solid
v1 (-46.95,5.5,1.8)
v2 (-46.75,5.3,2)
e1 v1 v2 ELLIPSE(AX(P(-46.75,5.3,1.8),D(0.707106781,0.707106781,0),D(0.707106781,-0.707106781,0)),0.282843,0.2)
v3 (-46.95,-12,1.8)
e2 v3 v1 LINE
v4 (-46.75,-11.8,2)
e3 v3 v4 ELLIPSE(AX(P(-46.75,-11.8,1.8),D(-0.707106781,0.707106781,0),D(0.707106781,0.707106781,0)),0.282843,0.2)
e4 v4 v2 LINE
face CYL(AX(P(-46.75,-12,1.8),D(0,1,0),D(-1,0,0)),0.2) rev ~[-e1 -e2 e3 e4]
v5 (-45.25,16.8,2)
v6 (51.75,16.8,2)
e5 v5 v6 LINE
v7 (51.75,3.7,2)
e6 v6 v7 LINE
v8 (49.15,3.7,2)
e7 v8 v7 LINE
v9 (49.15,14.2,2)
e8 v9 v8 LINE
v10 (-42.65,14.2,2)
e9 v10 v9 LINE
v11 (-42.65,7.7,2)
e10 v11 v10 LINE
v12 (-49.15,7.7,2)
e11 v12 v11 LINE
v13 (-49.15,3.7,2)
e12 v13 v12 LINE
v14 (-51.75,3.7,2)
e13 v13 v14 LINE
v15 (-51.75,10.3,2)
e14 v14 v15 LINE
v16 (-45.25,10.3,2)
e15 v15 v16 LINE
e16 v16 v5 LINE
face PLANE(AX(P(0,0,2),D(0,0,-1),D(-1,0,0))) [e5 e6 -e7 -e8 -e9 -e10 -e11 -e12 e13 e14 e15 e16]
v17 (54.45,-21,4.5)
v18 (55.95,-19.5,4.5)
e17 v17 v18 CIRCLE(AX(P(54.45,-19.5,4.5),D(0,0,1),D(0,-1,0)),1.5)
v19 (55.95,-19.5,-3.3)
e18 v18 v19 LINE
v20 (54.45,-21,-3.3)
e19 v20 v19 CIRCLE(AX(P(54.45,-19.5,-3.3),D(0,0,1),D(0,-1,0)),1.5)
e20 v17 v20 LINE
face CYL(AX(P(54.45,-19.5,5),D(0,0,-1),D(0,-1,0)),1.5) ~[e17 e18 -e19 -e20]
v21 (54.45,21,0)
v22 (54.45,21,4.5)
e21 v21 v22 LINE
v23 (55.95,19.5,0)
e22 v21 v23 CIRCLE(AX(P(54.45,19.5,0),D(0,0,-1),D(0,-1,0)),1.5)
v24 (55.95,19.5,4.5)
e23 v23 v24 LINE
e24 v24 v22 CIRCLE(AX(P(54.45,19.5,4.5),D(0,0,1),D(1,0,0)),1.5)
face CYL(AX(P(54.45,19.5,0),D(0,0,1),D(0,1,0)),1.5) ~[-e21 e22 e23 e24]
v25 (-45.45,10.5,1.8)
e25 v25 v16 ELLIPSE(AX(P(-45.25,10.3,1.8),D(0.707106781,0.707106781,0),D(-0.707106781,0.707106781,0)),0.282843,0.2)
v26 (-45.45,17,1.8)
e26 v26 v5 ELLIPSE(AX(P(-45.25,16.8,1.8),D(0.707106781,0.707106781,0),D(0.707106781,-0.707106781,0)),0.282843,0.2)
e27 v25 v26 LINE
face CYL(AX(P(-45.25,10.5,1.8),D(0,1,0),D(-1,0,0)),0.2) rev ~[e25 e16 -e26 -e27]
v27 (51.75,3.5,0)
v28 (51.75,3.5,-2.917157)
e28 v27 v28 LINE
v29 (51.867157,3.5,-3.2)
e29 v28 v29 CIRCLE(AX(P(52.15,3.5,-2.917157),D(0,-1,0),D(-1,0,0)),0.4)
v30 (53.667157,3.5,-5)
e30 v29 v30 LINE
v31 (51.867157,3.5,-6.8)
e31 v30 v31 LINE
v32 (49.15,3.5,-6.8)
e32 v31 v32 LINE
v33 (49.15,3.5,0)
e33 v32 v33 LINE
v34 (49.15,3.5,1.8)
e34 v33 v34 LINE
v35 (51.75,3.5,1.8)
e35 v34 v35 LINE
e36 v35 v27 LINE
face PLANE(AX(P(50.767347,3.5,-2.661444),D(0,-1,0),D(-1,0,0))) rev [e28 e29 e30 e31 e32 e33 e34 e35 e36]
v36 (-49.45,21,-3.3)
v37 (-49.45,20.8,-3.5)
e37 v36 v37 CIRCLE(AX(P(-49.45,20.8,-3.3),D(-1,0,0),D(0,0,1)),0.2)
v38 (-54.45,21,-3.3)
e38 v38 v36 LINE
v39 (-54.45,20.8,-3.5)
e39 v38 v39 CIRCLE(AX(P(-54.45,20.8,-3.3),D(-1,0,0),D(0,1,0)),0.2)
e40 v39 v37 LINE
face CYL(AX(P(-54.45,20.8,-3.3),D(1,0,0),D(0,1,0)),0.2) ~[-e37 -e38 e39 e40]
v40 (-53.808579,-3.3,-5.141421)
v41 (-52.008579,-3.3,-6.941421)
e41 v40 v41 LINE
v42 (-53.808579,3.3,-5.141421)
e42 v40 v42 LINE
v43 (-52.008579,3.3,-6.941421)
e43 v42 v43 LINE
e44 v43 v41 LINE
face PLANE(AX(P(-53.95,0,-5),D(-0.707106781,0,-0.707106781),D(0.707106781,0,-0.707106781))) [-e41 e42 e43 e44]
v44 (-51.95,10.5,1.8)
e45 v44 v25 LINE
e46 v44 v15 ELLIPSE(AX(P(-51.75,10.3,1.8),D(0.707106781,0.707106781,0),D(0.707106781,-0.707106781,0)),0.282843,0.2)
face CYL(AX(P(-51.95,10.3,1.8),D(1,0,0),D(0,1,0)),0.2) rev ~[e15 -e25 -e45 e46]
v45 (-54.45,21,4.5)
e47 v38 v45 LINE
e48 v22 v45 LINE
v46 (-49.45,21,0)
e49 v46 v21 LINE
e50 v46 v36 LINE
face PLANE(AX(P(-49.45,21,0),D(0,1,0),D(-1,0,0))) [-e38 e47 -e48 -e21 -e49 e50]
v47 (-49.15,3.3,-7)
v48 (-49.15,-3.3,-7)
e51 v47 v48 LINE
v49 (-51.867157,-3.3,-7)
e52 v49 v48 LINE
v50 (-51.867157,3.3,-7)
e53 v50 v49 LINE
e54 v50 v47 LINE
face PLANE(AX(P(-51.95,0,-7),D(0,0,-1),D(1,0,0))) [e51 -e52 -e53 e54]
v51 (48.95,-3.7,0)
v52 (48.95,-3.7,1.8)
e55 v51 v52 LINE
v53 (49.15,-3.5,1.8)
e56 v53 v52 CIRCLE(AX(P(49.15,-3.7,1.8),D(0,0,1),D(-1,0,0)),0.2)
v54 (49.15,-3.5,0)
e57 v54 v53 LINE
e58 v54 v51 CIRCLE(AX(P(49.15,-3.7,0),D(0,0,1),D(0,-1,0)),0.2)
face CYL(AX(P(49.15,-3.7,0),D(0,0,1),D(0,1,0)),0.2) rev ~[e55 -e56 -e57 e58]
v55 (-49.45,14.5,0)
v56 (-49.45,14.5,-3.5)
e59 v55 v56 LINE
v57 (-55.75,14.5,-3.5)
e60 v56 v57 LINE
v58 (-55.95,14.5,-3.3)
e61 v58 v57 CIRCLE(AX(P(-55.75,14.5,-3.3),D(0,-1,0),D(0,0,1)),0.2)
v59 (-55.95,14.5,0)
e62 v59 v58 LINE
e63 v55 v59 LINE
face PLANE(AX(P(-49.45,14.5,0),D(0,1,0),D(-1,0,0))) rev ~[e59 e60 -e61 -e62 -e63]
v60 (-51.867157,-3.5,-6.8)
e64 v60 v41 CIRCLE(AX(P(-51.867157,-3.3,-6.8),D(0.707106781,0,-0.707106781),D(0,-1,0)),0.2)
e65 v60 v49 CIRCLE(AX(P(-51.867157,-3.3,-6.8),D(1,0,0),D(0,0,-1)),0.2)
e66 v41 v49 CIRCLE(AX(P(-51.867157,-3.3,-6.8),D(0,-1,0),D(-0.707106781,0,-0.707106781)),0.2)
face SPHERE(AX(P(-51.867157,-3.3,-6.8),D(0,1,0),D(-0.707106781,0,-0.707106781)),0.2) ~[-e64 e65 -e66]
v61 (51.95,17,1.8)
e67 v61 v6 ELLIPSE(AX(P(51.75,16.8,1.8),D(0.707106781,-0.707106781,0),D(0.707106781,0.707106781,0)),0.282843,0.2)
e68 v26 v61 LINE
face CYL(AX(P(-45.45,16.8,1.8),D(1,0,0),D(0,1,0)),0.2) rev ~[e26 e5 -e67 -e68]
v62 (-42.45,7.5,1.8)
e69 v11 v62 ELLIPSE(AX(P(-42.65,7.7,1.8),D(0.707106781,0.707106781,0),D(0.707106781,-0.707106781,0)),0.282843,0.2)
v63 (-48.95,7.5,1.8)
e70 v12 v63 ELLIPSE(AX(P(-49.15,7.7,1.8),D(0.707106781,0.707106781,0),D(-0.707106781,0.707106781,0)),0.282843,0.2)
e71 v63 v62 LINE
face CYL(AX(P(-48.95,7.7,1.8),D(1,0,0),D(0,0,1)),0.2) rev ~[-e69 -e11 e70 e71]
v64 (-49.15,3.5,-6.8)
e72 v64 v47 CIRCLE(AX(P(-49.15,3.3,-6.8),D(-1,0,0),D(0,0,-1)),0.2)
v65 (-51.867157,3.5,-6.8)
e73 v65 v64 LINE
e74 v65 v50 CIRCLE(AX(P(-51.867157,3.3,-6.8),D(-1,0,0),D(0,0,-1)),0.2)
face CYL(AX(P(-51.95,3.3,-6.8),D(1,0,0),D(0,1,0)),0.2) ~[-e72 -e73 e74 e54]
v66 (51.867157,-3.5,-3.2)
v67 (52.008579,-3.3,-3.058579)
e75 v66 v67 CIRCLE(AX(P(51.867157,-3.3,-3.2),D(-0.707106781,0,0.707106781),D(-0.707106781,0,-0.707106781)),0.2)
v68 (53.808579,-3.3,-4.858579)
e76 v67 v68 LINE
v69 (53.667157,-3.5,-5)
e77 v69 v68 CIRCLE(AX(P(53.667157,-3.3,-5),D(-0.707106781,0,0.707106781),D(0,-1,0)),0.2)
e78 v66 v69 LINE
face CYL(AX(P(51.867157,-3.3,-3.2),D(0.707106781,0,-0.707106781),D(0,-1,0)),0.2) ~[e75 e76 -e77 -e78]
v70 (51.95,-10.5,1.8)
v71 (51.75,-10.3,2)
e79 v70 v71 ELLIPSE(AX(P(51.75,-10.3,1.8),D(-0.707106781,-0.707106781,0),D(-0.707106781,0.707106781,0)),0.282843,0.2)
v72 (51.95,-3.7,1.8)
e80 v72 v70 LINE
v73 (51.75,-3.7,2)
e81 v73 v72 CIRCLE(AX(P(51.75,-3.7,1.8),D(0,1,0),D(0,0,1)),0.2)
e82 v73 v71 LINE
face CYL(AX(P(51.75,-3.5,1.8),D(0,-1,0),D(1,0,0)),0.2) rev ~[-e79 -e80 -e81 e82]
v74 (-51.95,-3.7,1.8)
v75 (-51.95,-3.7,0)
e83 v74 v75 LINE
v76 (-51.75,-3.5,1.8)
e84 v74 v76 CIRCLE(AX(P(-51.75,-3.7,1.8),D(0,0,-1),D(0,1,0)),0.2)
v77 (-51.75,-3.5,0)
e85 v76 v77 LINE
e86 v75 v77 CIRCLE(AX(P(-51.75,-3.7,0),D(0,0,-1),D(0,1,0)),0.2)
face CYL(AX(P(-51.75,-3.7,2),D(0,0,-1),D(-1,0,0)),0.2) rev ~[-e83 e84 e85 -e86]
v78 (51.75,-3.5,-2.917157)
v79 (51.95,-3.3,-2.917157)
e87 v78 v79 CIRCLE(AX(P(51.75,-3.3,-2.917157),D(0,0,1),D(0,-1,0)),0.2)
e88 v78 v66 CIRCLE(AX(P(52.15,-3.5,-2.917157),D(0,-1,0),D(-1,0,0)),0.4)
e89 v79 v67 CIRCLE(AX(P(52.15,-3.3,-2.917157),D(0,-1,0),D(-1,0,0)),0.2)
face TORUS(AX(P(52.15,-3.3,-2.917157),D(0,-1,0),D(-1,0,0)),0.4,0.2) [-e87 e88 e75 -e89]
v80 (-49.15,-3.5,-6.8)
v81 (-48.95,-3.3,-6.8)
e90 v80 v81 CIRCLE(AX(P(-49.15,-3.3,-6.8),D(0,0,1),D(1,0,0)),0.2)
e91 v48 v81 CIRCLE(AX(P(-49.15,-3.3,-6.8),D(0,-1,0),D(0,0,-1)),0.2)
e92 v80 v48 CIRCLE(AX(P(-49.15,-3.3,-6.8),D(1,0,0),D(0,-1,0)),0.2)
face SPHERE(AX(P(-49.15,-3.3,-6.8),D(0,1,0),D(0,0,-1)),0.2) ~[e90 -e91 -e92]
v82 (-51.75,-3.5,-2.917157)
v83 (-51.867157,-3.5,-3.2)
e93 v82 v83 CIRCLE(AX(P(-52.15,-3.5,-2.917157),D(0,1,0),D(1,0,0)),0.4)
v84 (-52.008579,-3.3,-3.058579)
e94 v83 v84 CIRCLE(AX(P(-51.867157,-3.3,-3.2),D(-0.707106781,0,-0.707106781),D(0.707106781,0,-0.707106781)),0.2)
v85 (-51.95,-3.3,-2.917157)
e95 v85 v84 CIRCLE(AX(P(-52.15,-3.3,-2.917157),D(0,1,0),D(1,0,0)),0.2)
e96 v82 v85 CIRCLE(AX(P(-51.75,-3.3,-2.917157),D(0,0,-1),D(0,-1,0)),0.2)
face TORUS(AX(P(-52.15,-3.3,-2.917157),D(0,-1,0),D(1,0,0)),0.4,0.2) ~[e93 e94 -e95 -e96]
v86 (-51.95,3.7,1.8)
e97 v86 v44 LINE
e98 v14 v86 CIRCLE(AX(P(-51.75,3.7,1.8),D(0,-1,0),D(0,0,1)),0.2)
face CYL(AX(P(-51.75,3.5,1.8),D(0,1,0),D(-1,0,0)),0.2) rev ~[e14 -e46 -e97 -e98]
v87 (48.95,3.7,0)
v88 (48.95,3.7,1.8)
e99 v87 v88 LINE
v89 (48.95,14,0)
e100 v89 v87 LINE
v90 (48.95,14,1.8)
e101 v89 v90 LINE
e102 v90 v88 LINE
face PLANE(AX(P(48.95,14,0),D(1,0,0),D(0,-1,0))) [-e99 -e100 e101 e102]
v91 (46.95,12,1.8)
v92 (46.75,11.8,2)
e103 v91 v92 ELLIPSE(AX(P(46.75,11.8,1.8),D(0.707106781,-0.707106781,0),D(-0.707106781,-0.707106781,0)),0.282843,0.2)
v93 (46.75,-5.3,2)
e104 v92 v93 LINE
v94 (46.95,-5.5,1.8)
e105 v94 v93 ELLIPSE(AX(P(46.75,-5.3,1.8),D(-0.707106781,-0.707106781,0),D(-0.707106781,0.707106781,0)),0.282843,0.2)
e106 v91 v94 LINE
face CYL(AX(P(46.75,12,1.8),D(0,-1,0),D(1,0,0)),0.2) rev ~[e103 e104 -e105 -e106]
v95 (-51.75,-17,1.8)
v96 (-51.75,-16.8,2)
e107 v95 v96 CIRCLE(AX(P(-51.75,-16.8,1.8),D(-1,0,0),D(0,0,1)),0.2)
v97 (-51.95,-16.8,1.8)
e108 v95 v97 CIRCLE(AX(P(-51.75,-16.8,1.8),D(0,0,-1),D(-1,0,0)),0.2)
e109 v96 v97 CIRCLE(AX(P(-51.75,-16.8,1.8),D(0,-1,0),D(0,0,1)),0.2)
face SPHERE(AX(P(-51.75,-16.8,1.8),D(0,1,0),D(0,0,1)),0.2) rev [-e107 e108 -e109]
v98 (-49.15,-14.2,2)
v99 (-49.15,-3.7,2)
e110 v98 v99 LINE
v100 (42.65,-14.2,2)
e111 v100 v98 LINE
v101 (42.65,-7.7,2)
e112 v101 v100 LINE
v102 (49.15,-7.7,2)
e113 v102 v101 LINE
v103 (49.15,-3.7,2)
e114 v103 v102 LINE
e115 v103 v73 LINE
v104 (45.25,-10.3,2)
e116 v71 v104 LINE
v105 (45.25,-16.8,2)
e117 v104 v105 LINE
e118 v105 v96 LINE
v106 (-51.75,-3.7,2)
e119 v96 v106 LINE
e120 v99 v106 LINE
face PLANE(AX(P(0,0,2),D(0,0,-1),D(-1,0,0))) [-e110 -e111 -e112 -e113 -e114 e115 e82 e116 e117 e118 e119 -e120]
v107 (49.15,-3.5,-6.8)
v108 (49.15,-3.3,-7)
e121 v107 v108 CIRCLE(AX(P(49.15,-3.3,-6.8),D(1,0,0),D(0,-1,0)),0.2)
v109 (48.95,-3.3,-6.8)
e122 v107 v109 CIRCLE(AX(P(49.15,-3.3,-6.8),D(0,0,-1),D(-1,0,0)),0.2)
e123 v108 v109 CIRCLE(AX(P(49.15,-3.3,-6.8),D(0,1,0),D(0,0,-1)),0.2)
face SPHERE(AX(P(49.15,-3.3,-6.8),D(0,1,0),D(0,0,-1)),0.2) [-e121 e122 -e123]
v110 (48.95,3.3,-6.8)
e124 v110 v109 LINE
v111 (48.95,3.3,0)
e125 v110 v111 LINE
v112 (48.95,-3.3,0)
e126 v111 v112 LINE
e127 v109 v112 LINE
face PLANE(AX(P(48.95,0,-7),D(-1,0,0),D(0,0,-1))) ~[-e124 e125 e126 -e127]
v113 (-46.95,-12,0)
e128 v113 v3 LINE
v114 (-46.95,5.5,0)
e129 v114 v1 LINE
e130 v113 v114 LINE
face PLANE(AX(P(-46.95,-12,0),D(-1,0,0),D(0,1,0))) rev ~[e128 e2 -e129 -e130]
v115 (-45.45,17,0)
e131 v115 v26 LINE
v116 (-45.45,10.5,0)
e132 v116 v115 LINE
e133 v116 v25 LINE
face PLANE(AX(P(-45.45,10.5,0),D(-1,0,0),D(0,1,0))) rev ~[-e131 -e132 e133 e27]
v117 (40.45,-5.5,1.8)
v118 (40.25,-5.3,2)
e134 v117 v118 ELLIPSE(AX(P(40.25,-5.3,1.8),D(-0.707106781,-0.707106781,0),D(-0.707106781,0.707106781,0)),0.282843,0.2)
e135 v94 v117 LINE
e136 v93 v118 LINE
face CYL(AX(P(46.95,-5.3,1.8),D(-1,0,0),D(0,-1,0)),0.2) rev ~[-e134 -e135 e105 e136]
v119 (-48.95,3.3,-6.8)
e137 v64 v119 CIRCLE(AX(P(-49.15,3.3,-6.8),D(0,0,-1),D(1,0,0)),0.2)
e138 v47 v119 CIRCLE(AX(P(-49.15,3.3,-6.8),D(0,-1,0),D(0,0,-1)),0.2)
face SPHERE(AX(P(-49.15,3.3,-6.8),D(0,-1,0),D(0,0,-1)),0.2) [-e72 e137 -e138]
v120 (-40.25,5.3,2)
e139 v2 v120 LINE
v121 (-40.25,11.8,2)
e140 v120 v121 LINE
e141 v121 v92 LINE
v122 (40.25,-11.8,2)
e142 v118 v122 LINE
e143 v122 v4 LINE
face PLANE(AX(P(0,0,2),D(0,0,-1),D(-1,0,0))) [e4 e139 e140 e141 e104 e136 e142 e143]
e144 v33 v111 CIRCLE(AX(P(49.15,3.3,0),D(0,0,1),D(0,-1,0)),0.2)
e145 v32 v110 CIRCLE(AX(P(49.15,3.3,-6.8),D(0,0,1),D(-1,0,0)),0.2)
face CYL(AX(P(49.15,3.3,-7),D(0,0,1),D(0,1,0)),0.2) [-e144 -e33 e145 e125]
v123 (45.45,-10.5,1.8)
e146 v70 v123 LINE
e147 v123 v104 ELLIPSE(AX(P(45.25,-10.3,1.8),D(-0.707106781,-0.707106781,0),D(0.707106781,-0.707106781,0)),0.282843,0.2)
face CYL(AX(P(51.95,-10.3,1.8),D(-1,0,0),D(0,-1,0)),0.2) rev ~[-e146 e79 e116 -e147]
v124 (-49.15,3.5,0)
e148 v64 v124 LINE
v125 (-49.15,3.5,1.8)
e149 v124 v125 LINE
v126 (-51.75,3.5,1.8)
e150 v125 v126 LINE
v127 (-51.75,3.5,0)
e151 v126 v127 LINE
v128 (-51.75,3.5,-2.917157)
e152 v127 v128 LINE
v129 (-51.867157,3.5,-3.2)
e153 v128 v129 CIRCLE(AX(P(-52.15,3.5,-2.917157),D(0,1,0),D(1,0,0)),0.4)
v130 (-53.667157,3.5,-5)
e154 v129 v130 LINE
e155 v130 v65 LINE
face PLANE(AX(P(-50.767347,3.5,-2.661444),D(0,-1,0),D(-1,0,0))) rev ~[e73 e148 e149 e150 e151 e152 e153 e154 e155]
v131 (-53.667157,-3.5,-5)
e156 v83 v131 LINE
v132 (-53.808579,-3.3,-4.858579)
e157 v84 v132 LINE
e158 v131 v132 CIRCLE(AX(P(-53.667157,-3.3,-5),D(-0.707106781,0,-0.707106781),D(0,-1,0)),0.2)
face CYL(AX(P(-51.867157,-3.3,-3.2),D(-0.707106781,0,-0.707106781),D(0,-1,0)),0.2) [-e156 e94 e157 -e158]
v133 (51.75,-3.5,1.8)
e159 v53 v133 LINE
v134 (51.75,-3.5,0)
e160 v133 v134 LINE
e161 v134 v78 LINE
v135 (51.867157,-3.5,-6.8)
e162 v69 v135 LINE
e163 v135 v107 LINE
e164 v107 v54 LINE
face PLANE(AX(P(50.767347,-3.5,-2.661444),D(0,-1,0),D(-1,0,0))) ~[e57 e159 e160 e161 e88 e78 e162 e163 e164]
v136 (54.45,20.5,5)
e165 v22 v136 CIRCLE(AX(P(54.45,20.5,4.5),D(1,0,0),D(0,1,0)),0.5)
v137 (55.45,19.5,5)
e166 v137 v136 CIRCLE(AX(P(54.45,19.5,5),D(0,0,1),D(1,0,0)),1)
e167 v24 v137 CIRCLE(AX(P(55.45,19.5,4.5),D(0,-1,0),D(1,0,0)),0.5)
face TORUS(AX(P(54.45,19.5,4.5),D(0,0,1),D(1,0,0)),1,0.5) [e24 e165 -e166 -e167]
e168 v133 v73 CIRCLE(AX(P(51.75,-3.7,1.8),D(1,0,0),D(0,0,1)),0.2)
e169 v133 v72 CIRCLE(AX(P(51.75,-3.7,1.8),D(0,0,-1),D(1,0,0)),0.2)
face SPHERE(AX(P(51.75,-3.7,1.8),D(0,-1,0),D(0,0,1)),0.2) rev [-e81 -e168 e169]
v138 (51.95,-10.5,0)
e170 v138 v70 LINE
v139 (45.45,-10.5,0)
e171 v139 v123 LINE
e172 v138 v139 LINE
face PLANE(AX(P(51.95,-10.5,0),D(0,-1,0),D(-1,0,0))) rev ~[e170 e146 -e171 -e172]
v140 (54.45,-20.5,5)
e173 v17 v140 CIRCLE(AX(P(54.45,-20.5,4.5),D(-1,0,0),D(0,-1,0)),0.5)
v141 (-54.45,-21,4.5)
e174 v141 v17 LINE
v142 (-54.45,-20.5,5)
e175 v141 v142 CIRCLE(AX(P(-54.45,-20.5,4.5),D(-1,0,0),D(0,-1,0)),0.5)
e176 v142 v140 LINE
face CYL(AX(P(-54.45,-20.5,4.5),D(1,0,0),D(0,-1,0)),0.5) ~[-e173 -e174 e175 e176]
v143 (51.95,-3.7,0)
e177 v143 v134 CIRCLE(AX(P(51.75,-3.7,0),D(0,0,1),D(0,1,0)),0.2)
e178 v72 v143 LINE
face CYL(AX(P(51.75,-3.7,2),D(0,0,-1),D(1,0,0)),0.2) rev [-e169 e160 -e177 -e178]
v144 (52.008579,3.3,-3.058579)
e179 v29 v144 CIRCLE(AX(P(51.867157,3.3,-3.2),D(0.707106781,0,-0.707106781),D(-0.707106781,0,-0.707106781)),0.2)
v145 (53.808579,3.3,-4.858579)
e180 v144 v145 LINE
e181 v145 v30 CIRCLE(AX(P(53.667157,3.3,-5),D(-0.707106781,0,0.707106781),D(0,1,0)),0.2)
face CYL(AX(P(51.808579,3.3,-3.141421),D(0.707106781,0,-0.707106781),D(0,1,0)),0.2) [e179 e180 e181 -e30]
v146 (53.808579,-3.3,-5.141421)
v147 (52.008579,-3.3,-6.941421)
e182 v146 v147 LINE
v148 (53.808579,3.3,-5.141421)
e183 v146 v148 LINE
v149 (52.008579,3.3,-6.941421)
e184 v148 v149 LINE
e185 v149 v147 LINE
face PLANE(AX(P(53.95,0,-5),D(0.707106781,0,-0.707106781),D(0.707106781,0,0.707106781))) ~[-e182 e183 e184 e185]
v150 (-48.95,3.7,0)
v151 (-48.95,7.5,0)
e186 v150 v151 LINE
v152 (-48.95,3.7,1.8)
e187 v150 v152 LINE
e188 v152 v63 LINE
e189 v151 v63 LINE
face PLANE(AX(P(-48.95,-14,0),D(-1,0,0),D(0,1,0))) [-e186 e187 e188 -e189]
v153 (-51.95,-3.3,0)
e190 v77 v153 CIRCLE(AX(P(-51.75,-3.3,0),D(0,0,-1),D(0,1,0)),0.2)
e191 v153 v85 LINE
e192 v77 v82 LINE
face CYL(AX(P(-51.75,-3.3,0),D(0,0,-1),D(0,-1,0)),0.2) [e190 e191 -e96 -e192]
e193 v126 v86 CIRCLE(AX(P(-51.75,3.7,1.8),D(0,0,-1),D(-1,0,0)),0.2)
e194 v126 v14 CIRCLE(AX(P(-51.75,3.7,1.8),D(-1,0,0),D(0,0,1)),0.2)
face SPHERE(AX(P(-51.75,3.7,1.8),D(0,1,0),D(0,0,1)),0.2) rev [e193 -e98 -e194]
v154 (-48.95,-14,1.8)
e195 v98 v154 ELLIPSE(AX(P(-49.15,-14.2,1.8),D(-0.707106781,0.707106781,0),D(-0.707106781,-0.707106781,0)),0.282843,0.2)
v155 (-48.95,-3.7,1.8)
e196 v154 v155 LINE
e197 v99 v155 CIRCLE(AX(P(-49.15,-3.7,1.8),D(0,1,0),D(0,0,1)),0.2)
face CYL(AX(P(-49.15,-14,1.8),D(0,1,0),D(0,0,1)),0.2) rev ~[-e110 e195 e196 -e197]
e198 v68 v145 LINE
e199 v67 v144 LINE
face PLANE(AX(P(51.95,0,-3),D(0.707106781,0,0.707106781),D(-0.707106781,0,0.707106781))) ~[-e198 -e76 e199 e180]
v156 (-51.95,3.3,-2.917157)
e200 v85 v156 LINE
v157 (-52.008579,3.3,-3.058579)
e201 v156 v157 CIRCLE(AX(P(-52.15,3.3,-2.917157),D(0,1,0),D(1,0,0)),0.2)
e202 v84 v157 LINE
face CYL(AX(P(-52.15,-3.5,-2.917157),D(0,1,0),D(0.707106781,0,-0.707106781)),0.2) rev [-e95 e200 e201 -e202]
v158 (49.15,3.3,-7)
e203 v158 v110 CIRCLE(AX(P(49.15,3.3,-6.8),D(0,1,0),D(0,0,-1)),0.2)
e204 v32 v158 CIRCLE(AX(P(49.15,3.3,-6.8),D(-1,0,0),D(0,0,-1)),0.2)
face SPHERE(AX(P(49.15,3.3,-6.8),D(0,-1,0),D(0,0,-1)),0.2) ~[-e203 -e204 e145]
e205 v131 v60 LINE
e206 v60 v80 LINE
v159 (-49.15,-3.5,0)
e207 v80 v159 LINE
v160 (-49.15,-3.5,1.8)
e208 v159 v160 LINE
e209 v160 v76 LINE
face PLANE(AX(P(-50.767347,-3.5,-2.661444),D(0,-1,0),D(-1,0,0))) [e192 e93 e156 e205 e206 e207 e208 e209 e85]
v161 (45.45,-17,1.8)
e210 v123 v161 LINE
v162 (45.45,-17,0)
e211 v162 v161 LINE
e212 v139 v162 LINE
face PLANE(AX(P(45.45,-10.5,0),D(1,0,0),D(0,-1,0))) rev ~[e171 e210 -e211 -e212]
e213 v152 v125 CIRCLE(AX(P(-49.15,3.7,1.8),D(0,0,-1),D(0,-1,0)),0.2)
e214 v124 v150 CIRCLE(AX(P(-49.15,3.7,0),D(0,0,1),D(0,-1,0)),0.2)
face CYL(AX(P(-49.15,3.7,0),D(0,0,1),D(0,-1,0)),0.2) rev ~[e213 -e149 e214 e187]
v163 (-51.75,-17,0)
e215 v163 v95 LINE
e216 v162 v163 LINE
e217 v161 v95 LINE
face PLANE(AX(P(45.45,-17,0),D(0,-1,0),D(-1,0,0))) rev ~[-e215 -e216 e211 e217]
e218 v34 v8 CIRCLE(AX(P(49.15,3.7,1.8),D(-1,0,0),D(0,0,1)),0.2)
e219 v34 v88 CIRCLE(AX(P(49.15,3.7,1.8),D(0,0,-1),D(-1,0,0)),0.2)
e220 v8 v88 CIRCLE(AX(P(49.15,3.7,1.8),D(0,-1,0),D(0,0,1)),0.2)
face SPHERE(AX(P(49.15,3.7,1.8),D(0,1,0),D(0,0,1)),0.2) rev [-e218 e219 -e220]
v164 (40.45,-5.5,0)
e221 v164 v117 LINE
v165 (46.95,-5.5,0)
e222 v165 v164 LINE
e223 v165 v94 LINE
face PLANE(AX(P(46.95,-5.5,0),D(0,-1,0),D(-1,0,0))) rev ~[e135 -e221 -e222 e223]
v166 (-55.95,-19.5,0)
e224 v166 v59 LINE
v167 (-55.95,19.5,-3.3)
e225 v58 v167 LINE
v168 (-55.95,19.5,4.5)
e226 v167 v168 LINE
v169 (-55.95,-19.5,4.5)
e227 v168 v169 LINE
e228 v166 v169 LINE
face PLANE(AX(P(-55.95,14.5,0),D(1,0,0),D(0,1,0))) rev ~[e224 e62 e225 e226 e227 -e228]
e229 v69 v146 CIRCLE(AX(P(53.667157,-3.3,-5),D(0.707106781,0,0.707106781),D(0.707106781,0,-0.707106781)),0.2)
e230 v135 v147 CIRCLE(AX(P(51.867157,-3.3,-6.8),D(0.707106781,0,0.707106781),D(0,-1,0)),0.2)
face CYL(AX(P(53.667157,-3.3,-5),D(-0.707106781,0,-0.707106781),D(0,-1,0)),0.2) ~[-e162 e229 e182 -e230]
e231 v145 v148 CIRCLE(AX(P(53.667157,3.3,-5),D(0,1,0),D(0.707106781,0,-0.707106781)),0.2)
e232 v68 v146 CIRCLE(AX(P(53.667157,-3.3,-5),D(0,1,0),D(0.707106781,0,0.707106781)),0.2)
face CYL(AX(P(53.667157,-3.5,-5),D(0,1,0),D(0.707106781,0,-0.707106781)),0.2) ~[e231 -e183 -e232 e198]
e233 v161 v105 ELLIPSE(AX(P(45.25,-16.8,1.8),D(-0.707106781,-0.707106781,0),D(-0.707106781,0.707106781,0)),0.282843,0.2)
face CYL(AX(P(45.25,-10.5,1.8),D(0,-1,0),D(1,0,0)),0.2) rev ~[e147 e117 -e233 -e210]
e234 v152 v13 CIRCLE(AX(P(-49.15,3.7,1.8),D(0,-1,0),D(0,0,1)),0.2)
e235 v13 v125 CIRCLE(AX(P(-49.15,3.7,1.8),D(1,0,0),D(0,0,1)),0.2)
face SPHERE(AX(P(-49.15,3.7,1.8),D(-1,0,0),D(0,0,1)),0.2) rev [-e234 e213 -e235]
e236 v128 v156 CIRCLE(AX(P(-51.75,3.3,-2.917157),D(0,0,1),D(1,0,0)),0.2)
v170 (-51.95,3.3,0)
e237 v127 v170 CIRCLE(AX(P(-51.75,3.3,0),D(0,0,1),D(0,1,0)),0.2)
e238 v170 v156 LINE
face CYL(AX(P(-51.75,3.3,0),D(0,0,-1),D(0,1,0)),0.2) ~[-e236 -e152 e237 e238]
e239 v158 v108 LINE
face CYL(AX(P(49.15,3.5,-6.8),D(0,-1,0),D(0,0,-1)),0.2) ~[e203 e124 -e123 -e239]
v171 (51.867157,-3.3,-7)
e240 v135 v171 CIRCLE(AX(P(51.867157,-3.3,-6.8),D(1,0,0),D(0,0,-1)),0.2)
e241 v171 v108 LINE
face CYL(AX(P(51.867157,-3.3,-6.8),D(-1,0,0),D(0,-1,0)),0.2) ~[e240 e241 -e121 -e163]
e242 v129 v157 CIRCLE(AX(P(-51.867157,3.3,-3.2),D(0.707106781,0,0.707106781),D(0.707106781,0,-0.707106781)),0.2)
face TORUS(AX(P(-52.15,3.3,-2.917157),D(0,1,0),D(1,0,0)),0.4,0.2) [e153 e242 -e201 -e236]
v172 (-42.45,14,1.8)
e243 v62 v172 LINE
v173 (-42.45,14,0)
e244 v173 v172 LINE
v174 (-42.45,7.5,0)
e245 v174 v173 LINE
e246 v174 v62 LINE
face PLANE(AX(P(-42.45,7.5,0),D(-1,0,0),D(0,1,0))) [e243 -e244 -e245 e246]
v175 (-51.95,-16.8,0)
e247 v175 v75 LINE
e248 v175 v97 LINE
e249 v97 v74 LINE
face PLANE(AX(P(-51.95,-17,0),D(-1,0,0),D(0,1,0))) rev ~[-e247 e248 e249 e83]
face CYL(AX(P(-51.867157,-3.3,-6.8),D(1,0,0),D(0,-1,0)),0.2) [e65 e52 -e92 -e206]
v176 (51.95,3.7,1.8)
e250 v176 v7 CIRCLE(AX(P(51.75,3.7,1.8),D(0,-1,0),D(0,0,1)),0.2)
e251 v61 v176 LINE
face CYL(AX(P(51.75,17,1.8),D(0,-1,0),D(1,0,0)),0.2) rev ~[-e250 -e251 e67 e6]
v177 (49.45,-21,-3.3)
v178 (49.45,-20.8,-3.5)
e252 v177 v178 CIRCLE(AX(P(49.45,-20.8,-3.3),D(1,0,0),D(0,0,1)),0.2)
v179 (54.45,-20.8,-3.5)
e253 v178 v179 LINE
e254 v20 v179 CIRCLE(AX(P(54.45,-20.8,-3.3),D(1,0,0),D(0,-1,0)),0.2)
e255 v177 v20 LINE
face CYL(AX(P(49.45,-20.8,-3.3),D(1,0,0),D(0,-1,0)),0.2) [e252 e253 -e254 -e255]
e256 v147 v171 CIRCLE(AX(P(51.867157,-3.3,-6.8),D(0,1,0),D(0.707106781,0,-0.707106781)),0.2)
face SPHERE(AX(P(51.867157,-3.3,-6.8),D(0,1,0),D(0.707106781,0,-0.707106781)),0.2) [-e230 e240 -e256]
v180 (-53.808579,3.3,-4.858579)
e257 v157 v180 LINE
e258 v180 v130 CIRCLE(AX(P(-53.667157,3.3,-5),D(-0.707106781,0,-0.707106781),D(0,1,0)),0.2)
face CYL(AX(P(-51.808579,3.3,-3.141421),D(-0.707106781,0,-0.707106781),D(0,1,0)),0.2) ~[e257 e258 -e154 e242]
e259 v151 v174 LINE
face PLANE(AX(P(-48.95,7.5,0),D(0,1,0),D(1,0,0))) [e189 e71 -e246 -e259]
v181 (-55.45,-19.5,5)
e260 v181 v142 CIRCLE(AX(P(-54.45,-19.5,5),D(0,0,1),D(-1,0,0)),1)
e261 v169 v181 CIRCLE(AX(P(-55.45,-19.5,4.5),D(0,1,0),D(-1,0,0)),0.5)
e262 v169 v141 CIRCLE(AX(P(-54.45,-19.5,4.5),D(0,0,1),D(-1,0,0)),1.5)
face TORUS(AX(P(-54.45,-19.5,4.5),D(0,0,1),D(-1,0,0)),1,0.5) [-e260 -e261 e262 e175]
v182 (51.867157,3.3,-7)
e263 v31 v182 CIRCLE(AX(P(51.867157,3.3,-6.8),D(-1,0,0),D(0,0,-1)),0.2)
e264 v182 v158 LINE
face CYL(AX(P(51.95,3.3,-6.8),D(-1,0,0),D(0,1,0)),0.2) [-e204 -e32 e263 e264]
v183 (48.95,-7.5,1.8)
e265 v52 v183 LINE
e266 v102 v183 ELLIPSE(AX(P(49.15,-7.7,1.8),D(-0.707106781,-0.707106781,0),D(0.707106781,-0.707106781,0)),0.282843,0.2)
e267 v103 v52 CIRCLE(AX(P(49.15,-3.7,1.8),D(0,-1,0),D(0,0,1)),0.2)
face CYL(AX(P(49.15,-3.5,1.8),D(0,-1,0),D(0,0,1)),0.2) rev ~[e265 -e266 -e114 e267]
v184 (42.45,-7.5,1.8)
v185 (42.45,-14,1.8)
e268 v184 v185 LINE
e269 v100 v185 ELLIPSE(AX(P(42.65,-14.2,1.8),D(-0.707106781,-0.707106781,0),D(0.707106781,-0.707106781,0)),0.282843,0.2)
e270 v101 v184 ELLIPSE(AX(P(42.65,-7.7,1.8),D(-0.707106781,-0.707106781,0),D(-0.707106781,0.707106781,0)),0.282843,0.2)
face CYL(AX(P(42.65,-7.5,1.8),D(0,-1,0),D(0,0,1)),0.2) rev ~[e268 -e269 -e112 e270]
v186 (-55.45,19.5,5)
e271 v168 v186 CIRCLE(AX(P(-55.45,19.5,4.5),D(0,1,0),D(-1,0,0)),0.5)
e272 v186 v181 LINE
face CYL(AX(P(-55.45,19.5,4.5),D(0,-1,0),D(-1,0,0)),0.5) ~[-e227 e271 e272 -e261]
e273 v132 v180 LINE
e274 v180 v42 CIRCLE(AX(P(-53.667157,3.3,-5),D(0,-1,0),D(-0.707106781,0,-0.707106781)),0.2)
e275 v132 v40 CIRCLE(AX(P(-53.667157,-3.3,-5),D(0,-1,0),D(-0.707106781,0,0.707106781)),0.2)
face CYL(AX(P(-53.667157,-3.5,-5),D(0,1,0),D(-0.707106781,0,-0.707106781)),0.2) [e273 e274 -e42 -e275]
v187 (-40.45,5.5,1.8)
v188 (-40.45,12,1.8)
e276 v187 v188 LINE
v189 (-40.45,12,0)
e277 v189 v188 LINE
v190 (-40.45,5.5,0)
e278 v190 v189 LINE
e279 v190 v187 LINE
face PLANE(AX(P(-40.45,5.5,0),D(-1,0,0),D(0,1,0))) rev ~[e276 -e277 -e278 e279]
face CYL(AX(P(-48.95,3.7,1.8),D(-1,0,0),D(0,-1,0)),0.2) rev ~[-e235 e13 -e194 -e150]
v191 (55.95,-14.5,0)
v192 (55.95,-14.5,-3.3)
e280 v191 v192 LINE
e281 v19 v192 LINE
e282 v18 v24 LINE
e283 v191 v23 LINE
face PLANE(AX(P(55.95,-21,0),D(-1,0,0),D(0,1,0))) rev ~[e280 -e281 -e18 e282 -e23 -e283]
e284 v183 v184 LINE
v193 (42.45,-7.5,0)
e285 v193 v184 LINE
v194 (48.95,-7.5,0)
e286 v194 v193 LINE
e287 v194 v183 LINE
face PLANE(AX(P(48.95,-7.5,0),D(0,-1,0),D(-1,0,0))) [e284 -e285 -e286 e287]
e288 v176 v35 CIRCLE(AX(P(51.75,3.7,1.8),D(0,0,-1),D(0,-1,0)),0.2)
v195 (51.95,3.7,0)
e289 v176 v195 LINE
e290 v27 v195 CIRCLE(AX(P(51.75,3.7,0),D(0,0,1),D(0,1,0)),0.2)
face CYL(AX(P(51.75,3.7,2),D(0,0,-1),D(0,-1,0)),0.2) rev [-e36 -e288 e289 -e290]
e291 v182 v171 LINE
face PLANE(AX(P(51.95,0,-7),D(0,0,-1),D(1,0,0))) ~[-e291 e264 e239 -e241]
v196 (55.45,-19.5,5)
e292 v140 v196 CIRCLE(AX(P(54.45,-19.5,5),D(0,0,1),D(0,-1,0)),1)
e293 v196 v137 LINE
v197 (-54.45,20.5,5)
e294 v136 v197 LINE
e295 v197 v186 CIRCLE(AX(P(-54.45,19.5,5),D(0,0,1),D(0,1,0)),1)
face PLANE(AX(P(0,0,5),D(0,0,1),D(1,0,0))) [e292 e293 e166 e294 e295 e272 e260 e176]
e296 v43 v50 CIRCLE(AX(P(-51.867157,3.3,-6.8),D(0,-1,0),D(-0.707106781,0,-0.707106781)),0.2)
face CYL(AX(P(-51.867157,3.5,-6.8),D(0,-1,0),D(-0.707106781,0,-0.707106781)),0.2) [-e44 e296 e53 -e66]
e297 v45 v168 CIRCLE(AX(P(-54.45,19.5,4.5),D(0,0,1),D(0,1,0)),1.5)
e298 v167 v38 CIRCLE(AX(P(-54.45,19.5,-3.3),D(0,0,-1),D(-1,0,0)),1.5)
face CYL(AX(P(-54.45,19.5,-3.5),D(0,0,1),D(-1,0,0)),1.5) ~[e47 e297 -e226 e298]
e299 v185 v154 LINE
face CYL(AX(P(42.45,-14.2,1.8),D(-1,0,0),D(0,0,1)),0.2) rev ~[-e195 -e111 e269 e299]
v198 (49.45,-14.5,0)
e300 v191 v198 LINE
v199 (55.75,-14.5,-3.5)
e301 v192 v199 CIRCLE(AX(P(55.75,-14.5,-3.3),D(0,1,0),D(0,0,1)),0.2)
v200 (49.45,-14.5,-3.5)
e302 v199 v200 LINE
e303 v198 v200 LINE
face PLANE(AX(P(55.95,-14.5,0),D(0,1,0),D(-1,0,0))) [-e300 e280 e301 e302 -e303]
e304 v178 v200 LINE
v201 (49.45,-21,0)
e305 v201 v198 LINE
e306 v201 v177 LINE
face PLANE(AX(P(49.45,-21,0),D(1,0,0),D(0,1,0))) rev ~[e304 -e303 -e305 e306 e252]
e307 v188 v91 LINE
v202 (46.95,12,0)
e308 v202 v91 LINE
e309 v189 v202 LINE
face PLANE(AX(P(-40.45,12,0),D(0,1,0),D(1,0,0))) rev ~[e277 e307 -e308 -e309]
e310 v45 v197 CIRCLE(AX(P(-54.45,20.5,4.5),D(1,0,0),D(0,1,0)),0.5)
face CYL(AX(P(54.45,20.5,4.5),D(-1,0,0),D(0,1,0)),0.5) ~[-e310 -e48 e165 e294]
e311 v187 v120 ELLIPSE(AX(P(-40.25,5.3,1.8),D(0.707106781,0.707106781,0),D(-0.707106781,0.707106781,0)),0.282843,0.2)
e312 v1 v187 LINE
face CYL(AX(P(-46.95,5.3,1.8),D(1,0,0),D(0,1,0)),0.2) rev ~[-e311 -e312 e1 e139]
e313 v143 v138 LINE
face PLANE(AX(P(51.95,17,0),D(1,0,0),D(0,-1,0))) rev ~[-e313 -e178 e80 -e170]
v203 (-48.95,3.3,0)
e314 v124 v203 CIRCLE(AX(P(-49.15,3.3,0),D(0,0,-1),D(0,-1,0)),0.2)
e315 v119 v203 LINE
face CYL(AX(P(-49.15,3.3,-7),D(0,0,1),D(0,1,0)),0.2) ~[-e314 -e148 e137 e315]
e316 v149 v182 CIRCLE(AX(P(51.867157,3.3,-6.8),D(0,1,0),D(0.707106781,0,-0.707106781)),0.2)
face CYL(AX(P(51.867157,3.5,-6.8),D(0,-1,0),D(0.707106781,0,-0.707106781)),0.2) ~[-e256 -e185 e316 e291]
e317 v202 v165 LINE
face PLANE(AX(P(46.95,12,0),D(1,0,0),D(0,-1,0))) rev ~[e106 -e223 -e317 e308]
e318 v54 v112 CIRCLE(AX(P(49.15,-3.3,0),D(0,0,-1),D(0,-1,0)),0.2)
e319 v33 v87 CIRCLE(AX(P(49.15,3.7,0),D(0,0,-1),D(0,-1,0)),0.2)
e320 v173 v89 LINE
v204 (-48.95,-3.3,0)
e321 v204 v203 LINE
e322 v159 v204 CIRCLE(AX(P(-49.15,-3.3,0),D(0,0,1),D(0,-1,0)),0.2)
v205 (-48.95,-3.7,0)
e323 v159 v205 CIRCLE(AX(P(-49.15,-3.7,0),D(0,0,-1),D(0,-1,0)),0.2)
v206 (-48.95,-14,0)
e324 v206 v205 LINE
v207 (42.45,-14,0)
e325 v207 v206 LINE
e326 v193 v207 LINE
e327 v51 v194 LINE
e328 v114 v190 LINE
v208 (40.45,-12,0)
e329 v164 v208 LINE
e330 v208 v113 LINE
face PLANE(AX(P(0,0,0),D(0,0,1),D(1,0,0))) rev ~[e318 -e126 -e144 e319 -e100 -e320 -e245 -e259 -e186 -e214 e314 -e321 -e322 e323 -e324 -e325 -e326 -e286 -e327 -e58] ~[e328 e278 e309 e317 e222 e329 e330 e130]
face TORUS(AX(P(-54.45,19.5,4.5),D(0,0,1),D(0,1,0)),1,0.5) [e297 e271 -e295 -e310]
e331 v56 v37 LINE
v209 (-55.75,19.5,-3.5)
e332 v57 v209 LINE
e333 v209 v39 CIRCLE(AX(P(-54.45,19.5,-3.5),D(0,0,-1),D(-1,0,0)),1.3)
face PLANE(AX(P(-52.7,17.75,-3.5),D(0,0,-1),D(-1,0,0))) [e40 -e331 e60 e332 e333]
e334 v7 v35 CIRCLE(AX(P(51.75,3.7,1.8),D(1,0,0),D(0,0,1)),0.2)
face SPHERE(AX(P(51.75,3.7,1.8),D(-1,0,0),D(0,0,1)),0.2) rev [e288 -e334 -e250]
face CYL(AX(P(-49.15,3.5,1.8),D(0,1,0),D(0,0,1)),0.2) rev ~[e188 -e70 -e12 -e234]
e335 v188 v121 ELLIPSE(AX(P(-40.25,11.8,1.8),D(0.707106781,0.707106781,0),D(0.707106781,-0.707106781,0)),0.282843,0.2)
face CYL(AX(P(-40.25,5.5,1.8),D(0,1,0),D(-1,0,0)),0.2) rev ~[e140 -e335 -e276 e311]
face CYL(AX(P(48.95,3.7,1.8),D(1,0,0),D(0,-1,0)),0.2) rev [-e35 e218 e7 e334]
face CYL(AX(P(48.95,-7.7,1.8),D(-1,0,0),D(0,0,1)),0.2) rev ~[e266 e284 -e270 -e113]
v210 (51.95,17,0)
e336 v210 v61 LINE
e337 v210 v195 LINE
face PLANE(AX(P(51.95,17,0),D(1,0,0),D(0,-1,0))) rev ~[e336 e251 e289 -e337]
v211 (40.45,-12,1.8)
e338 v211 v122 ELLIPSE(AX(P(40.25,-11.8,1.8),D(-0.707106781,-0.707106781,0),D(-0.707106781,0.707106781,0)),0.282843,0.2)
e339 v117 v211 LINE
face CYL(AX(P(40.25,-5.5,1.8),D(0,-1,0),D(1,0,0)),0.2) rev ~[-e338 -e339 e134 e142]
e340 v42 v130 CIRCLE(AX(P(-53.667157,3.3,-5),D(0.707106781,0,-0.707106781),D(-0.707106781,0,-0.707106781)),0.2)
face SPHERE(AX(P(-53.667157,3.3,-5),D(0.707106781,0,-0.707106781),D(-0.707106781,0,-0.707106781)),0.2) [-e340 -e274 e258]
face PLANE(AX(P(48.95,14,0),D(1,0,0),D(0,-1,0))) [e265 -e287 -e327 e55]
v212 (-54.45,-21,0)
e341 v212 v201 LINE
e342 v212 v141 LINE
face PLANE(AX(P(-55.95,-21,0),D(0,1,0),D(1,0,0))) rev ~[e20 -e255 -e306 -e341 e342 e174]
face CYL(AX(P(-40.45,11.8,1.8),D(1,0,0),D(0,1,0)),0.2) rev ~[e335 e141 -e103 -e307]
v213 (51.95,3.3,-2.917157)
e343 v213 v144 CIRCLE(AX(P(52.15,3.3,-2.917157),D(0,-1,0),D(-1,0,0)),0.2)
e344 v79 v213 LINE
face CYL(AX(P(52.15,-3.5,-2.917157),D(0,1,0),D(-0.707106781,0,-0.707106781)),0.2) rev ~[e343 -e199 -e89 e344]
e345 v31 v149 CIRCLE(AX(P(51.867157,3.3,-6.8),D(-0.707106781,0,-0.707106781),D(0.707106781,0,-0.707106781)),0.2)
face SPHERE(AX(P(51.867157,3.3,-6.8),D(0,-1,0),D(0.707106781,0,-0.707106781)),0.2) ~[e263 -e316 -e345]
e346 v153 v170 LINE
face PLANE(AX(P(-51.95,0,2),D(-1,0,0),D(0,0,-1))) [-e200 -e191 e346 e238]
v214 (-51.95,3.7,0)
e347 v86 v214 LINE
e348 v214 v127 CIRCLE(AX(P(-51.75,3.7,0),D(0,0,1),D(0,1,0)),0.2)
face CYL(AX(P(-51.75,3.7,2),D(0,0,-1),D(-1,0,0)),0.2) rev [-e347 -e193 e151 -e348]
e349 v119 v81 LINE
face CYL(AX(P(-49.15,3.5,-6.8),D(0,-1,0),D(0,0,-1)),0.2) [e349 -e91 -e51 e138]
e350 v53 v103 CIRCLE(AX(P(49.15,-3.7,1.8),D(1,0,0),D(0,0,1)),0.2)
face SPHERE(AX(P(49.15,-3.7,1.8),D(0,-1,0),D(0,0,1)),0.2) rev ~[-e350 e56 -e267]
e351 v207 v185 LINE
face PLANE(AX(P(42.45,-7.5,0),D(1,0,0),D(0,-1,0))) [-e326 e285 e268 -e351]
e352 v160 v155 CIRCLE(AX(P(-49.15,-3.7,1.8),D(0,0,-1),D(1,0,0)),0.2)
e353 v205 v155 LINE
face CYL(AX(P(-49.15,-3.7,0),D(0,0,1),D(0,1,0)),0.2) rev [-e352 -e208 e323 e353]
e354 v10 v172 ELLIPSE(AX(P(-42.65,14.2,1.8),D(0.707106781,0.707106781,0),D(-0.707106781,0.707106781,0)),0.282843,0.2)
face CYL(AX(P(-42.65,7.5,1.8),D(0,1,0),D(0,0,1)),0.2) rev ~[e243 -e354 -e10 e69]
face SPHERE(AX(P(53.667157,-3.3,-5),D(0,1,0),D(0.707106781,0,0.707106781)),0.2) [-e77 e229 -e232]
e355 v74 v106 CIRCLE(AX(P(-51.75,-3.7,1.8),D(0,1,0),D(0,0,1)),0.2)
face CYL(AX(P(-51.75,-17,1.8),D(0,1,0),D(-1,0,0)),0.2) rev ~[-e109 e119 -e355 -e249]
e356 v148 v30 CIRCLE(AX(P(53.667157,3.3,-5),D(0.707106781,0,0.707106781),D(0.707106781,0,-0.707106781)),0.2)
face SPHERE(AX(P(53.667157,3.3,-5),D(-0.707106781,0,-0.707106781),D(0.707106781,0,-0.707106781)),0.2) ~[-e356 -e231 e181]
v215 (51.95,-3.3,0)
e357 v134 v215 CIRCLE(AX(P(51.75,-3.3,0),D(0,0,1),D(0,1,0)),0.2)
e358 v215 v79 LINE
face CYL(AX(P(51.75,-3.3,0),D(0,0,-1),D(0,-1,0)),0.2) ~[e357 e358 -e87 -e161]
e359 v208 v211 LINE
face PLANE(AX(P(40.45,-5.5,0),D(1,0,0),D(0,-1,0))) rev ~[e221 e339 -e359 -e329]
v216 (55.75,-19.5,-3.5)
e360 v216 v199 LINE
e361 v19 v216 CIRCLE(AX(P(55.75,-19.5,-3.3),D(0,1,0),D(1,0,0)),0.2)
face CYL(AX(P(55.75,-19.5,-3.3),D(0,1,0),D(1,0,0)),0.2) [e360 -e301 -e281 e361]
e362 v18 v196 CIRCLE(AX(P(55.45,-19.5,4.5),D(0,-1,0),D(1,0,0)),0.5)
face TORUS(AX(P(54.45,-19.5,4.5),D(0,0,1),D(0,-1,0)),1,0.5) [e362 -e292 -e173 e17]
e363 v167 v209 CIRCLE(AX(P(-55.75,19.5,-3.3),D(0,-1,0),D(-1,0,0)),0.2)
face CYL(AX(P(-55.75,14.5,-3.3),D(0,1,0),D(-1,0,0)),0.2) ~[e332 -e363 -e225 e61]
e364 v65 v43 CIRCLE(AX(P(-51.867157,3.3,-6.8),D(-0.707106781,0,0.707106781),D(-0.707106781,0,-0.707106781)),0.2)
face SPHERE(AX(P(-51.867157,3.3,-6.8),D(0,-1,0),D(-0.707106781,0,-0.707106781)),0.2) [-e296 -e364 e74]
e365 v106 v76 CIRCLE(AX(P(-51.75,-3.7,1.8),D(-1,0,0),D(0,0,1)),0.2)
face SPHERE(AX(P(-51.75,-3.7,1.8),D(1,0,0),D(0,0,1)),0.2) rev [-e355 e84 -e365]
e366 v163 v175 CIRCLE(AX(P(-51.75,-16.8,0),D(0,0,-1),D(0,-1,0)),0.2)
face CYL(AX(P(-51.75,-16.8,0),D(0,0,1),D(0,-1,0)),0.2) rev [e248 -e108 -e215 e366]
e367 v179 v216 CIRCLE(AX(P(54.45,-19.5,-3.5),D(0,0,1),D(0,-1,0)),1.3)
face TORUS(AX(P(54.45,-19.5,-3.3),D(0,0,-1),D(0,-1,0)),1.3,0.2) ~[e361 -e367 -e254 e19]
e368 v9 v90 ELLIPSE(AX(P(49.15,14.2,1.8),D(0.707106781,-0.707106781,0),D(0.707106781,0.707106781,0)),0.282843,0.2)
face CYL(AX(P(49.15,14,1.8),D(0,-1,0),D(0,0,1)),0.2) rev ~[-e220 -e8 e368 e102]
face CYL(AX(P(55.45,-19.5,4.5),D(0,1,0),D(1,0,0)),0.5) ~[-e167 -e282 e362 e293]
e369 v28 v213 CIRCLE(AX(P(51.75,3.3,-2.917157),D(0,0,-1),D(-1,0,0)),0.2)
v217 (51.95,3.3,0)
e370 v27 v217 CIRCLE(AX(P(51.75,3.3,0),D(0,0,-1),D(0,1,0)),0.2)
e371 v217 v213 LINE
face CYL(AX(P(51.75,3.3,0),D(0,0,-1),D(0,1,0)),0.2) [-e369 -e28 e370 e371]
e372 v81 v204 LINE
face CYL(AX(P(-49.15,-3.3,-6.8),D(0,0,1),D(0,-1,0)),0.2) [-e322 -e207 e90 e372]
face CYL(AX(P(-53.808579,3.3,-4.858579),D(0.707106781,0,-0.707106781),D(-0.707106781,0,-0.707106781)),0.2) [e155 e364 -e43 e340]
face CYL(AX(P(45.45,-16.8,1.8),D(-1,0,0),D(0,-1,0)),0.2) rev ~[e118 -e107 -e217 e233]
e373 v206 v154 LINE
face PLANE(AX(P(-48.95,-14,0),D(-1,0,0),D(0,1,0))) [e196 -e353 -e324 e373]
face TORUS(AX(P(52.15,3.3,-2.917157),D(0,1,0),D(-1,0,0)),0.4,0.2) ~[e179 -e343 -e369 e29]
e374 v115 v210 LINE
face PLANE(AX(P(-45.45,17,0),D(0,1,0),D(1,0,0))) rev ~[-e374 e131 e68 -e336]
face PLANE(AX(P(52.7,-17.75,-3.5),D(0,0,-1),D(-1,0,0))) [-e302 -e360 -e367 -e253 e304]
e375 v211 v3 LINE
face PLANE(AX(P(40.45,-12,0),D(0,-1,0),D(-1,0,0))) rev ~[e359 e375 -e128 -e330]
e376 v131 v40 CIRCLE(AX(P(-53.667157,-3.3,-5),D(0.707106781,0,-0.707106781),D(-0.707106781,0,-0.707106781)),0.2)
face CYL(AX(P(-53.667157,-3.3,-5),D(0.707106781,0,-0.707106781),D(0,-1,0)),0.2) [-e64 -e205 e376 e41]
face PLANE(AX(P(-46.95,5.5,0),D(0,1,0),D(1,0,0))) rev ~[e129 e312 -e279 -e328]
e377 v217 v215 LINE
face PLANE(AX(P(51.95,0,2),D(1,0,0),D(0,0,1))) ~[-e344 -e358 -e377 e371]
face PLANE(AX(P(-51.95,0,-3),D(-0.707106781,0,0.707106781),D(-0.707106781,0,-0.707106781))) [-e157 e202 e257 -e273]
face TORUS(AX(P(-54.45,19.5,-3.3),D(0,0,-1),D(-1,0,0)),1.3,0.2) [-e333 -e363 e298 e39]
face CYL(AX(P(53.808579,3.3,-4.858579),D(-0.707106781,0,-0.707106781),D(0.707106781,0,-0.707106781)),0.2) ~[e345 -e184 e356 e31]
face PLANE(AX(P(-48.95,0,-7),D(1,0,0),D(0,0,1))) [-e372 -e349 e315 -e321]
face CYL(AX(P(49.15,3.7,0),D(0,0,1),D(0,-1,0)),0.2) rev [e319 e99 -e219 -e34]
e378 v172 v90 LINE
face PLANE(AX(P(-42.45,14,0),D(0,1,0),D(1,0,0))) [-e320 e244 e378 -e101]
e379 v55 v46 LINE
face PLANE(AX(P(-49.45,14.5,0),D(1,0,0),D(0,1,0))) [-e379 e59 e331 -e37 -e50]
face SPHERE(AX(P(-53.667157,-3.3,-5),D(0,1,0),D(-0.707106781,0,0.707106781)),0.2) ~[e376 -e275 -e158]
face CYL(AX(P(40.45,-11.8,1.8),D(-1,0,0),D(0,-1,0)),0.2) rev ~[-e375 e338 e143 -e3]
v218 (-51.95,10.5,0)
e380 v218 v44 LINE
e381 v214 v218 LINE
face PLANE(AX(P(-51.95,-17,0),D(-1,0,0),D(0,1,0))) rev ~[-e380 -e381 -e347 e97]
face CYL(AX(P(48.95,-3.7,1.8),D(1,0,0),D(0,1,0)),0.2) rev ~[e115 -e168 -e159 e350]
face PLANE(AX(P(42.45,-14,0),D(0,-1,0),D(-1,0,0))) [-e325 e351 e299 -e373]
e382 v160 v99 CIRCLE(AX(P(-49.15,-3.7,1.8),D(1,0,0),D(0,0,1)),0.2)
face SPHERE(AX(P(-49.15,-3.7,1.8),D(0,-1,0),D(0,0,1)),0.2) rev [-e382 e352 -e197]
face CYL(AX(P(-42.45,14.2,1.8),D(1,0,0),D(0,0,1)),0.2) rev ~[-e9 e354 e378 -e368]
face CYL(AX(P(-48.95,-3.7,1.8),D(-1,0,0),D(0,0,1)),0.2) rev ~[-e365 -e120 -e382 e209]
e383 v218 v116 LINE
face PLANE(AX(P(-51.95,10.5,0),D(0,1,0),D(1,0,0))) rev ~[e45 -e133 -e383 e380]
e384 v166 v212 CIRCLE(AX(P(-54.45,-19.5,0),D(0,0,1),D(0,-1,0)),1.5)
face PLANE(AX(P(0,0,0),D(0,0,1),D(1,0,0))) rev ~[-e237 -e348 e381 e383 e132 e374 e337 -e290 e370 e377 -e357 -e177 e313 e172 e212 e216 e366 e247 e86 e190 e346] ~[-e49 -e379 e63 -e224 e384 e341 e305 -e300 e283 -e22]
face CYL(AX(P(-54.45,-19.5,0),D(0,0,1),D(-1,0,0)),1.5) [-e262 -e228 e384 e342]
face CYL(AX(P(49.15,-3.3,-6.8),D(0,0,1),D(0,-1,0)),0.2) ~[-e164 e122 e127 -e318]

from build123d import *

# Parameters (mm, degrees)
SKETCH1_W            = 111.9
SKETCH1_H            = 42
BOSS_EXTRUDE1_DEPTH  = 5
SKETCH2_W            = 6.5
SKETCH2_H            = 6.5
BOSS_EXTRUDE2_DEPTH  = 3.5
CUT_EXTRUDE1_DEPTH   = 2
CUT_EXTRUDE2_DEPTH   = 2
BOSS_EXTRUDE3_DEPTH  = 3.5
FILLET1_R            = 0.2
FILLET1_OF_MIRROR1_R = 0.2
FILLET2_R            = 1.5
FILLET3_R            = 0.5
FILLET4_R            = 0.2
FILLET5_R            = 0.2
FILLET6_R            = 0.2


with BuildPart() as part:
    # Sketch1 → Boss-Extrude1 (new body)
    with BuildSketch(Plane.XY):
        Rectangle(SKETCH1_W, SKETCH1_H)
    extrude(amount=BOSS_EXTRUDE1_DEPTH)

    # Sketch2 → Boss-Extrude2 (add)
    with BuildSketch(Plane(origin=(0, 0, 0), x_dir=(-1, 0, 0), z_dir=(0, 0, -1))):
        with Locations((52.7, 17.75)):
            Rectangle(SKETCH2_W, SKETCH2_H)
        with Locations((-52.7, -17.75)):
            Rectangle(SKETCH2_W, SKETCH2_H)
    extrude(amount=BOSS_EXTRUDE2_DEPTH)

    # Sketch3 → Cut-Extrude1 (cut)
    with BuildSketch(Plane(origin=(0, 0, 0), x_dir=(-1, 0, 0), z_dir=(0, 0, -1))):
        Polygon((-45.45, -17), (51.95, -17), (51.95, 10.5), (45.45, 10.5), (45.45, 17), (-51.95, 17), (-51.95, -10.5), (-45.45, -10.5), align=None)
        Polygon((-42.45, -14), (48.95, -14), (48.95, 7.5), (42.45, 7.5), (42.45, 14), (-48.95, 14), (-48.95, -7.5), (-42.45, -7.5), align=None, mode=Mode.SUBTRACT)
    extrude(amount=-CUT_EXTRUDE1_DEPTH, mode=Mode.SUBTRACT)

    # Sketch5 → Cut-Extrude2 (cut)
    with BuildSketch(Plane(origin=(0, 0, 0), x_dir=(-1, 0, 0), z_dir=(0, 0, -1))):
        Polygon((-40.45, -12), (46.95, -12), (46.95, 5.5), (40.45, 5.5), (40.45, 12), (-46.95, 12), (-46.95, -5.5), (-40.45, -5.5), align=None)
    extrude(amount=-CUT_EXTRUDE2_DEPTH, mode=Mode.SUBTRACT)

    # Sketch6 → Boss-Extrude3 (add, symmetric)
    with BuildSketch(Plane(origin=(0, 0, 0), x_dir=(-1, 0, 0), z_dir=(0, -1, 0))):
        Polygon((53.95, 5), (51.95, 7), (48.95, 7), (48.95, 0), (48.95, -2), (51.95, -2), (51.95, 0), (51.95, 3), align=None)
    boss_extrude3 = extrude(amount=BOSS_EXTRUDE3_DEPTH, both=True)

    # Fillet1
    fillet1_edges = [part.edges().sort_by_distance(p)[0] for p in [
        (-51.95, 3.5, -1.5),
        (-48.95, 0, -7),
        (-52.95, 3.5, -6),
        (-53.95, 0, -5),
        (-50.45, 3.5, -7),
        (-51.95, 0, -7),
        (-52.95, 3.5, -4),
        (-51.95, 0, -3),
        (-48.95, 3.5, -3.5),
    ]]
    fillet(fillet1_edges, radius=FILLET1_R)

    # Mirror1: Boss-Extrude3 across plane
    add(boss_extrude3.mirror(Plane.ZY))

    # Fillet1 of Mirror1
    fillet1_of_mirror1_edges = [part.edges().sort_by_distance(p)[0] for p in [
        (51.95, 3.5, -1.5),
        (48.95, 0, -7),
        (52.95, 3.5, -6),
        (53.95, 0, -5),
        (50.45, 3.5, -7),
        (51.95, 0, -7),
        (52.95, 3.5, -4),
        (51.95, 0, -3),
        (48.95, 3.5, -3.5),
    ]]
    fillet(fillet1_of_mirror1_edges, radius=FILLET1_OF_MIRROR1_R)

    # Fillet2
    fillet2_edges = [part.edges().sort_by_distance(p)[0] for p in [
        (-55.95, 21, 0.75),
        (55.95, 21, 2.5),
        (55.95, -21, 0.75),
        (-55.95, -21, 2.5),
    ]]
    fillet(fillet2_edges, radius=FILLET2_R)

    # Fillet3
    fillet3_edges = [part.edges().sort_by_distance(p)[0] for p in [
        (0, -21, 5),
        (-55.95, 0, 5),
        (55.95, 0, 5),
        (0, 21, 5),
        (55.510660172, 20.560660172, 5),
        (55.510660172, -20.560660172, 5),
        (-55.510660172, 20.560660172, 5),
        (-55.510660172, -20.560660172, 5),
    ]]
    fillet(fillet3_edges, radius=FILLET3_R)

    # Fillet4
    fillet4_edges = [part.edges().sort_by_distance(p)[0] for p in [
        (43.7, -5.5, 2),
        (46.95, 3.25, 2),
        (3.25, 12, 2),
        (-40.45, 8.75, 2),
        (-43.7, 5.5, 2),
        (-46.95, -3.25, 2),
        (-3.25, -12, 2),
        (40.45, -8.75, 2),
        (3.25, 17, 2),
        (-45.45, 13.75, 2),
        (-48.7, 10.5, 2),
        (-51.95, 7, 2),
        (-50.45, 3.5, 2),
        (-48.95, 5.5, 2),
        (-45.7, 7.5, 2),
        (-42.45, 10.75, 2),
        (3.25, 14, 2),
        (48.95, 8.75, 2),
        (50.45, 3.5, 2),
        (51.95, 10.25, 2),
        (48.95, -5.5, 2),
        (45.7, -7.5, 2),
        (42.45, -10.75, 2),
        (-3.25, -14, 2),
        (-48.95, -8.75, 2),
        (-50.45, -3.5, 2),
        (-51.95, -10.25, 2),
        (-3.25, -17, 2),
        (45.45, -13.75, 2),
        (48.7, -10.5, 2),
        (51.95, -7, 2),
        (50.45, -3.5, 2),
        (51.95, -3.5, 1),
        (48.95, -3.5, 1),
        (51.95, 3.5, 1),
        (48.95, 3.5, 1),
        (-48.95, -3.5, 1),
        (-51.95, -3.5, 1),
        (-48.95, 3.5, 1),
        (-51.95, 3.5, 1),
        (-51.95, -17, 1),
    ]]
    fillet(fillet4_edges, radius=FILLET4_R)

    # Fillet5
    fillet5_edges = [part.edges().sort_by_distance(p)[0] for p in [
        (51.95, -3.5, -1.458578644),
        (51.965224093, -3.5, -2.993693974),
        (52.908578644, -3.5, -3.958578644),
        (53.867157288, -3.5, -5),
        (52.908578644, -3.5, -6.041421356),
        (51.943693974, -3.5, -6.984775907),
        (50.508578644, -3.5, -7),
        (49.008578644, -3.5, -6.941421356),
        (-51.95, -3.5, -1.458578644),
        (-51.965224093, -3.5, -2.993693974),
        (-52.908578644, -3.5, -3.958578644),
        (-53.867157288, -3.5, -5),
        (-52.908578644, -3.5, -6.041421356),
        (-51.943693974, -3.5, -6.984775907),
        (-50.508578644, -3.5, -7),
        (-49.008578644, -3.5, -6.941421356),
        (48.95, -3.5, -3.4),
        (-48.95, -3.5, -3.4),
    ]]
    fillet(fillet5_edges, radius=FILLET5_R)

    # Fillet6
    fillet6_edges = [part.edges().sort_by_distance(p)[0] for p in [
        (-55.95, 17, -3.5),
        (55.95, -17, -3.5),
        (51.95, -21, -3.5),
        (-51.95, 21, -3.5),
        (-55.510660172, 20.560660172, -3.5),
        (55.510660172, -20.560660172, -3.5),
    ]]
    fillet(fillet6_edges, radius=FILLET6_R)


solid = part.part
